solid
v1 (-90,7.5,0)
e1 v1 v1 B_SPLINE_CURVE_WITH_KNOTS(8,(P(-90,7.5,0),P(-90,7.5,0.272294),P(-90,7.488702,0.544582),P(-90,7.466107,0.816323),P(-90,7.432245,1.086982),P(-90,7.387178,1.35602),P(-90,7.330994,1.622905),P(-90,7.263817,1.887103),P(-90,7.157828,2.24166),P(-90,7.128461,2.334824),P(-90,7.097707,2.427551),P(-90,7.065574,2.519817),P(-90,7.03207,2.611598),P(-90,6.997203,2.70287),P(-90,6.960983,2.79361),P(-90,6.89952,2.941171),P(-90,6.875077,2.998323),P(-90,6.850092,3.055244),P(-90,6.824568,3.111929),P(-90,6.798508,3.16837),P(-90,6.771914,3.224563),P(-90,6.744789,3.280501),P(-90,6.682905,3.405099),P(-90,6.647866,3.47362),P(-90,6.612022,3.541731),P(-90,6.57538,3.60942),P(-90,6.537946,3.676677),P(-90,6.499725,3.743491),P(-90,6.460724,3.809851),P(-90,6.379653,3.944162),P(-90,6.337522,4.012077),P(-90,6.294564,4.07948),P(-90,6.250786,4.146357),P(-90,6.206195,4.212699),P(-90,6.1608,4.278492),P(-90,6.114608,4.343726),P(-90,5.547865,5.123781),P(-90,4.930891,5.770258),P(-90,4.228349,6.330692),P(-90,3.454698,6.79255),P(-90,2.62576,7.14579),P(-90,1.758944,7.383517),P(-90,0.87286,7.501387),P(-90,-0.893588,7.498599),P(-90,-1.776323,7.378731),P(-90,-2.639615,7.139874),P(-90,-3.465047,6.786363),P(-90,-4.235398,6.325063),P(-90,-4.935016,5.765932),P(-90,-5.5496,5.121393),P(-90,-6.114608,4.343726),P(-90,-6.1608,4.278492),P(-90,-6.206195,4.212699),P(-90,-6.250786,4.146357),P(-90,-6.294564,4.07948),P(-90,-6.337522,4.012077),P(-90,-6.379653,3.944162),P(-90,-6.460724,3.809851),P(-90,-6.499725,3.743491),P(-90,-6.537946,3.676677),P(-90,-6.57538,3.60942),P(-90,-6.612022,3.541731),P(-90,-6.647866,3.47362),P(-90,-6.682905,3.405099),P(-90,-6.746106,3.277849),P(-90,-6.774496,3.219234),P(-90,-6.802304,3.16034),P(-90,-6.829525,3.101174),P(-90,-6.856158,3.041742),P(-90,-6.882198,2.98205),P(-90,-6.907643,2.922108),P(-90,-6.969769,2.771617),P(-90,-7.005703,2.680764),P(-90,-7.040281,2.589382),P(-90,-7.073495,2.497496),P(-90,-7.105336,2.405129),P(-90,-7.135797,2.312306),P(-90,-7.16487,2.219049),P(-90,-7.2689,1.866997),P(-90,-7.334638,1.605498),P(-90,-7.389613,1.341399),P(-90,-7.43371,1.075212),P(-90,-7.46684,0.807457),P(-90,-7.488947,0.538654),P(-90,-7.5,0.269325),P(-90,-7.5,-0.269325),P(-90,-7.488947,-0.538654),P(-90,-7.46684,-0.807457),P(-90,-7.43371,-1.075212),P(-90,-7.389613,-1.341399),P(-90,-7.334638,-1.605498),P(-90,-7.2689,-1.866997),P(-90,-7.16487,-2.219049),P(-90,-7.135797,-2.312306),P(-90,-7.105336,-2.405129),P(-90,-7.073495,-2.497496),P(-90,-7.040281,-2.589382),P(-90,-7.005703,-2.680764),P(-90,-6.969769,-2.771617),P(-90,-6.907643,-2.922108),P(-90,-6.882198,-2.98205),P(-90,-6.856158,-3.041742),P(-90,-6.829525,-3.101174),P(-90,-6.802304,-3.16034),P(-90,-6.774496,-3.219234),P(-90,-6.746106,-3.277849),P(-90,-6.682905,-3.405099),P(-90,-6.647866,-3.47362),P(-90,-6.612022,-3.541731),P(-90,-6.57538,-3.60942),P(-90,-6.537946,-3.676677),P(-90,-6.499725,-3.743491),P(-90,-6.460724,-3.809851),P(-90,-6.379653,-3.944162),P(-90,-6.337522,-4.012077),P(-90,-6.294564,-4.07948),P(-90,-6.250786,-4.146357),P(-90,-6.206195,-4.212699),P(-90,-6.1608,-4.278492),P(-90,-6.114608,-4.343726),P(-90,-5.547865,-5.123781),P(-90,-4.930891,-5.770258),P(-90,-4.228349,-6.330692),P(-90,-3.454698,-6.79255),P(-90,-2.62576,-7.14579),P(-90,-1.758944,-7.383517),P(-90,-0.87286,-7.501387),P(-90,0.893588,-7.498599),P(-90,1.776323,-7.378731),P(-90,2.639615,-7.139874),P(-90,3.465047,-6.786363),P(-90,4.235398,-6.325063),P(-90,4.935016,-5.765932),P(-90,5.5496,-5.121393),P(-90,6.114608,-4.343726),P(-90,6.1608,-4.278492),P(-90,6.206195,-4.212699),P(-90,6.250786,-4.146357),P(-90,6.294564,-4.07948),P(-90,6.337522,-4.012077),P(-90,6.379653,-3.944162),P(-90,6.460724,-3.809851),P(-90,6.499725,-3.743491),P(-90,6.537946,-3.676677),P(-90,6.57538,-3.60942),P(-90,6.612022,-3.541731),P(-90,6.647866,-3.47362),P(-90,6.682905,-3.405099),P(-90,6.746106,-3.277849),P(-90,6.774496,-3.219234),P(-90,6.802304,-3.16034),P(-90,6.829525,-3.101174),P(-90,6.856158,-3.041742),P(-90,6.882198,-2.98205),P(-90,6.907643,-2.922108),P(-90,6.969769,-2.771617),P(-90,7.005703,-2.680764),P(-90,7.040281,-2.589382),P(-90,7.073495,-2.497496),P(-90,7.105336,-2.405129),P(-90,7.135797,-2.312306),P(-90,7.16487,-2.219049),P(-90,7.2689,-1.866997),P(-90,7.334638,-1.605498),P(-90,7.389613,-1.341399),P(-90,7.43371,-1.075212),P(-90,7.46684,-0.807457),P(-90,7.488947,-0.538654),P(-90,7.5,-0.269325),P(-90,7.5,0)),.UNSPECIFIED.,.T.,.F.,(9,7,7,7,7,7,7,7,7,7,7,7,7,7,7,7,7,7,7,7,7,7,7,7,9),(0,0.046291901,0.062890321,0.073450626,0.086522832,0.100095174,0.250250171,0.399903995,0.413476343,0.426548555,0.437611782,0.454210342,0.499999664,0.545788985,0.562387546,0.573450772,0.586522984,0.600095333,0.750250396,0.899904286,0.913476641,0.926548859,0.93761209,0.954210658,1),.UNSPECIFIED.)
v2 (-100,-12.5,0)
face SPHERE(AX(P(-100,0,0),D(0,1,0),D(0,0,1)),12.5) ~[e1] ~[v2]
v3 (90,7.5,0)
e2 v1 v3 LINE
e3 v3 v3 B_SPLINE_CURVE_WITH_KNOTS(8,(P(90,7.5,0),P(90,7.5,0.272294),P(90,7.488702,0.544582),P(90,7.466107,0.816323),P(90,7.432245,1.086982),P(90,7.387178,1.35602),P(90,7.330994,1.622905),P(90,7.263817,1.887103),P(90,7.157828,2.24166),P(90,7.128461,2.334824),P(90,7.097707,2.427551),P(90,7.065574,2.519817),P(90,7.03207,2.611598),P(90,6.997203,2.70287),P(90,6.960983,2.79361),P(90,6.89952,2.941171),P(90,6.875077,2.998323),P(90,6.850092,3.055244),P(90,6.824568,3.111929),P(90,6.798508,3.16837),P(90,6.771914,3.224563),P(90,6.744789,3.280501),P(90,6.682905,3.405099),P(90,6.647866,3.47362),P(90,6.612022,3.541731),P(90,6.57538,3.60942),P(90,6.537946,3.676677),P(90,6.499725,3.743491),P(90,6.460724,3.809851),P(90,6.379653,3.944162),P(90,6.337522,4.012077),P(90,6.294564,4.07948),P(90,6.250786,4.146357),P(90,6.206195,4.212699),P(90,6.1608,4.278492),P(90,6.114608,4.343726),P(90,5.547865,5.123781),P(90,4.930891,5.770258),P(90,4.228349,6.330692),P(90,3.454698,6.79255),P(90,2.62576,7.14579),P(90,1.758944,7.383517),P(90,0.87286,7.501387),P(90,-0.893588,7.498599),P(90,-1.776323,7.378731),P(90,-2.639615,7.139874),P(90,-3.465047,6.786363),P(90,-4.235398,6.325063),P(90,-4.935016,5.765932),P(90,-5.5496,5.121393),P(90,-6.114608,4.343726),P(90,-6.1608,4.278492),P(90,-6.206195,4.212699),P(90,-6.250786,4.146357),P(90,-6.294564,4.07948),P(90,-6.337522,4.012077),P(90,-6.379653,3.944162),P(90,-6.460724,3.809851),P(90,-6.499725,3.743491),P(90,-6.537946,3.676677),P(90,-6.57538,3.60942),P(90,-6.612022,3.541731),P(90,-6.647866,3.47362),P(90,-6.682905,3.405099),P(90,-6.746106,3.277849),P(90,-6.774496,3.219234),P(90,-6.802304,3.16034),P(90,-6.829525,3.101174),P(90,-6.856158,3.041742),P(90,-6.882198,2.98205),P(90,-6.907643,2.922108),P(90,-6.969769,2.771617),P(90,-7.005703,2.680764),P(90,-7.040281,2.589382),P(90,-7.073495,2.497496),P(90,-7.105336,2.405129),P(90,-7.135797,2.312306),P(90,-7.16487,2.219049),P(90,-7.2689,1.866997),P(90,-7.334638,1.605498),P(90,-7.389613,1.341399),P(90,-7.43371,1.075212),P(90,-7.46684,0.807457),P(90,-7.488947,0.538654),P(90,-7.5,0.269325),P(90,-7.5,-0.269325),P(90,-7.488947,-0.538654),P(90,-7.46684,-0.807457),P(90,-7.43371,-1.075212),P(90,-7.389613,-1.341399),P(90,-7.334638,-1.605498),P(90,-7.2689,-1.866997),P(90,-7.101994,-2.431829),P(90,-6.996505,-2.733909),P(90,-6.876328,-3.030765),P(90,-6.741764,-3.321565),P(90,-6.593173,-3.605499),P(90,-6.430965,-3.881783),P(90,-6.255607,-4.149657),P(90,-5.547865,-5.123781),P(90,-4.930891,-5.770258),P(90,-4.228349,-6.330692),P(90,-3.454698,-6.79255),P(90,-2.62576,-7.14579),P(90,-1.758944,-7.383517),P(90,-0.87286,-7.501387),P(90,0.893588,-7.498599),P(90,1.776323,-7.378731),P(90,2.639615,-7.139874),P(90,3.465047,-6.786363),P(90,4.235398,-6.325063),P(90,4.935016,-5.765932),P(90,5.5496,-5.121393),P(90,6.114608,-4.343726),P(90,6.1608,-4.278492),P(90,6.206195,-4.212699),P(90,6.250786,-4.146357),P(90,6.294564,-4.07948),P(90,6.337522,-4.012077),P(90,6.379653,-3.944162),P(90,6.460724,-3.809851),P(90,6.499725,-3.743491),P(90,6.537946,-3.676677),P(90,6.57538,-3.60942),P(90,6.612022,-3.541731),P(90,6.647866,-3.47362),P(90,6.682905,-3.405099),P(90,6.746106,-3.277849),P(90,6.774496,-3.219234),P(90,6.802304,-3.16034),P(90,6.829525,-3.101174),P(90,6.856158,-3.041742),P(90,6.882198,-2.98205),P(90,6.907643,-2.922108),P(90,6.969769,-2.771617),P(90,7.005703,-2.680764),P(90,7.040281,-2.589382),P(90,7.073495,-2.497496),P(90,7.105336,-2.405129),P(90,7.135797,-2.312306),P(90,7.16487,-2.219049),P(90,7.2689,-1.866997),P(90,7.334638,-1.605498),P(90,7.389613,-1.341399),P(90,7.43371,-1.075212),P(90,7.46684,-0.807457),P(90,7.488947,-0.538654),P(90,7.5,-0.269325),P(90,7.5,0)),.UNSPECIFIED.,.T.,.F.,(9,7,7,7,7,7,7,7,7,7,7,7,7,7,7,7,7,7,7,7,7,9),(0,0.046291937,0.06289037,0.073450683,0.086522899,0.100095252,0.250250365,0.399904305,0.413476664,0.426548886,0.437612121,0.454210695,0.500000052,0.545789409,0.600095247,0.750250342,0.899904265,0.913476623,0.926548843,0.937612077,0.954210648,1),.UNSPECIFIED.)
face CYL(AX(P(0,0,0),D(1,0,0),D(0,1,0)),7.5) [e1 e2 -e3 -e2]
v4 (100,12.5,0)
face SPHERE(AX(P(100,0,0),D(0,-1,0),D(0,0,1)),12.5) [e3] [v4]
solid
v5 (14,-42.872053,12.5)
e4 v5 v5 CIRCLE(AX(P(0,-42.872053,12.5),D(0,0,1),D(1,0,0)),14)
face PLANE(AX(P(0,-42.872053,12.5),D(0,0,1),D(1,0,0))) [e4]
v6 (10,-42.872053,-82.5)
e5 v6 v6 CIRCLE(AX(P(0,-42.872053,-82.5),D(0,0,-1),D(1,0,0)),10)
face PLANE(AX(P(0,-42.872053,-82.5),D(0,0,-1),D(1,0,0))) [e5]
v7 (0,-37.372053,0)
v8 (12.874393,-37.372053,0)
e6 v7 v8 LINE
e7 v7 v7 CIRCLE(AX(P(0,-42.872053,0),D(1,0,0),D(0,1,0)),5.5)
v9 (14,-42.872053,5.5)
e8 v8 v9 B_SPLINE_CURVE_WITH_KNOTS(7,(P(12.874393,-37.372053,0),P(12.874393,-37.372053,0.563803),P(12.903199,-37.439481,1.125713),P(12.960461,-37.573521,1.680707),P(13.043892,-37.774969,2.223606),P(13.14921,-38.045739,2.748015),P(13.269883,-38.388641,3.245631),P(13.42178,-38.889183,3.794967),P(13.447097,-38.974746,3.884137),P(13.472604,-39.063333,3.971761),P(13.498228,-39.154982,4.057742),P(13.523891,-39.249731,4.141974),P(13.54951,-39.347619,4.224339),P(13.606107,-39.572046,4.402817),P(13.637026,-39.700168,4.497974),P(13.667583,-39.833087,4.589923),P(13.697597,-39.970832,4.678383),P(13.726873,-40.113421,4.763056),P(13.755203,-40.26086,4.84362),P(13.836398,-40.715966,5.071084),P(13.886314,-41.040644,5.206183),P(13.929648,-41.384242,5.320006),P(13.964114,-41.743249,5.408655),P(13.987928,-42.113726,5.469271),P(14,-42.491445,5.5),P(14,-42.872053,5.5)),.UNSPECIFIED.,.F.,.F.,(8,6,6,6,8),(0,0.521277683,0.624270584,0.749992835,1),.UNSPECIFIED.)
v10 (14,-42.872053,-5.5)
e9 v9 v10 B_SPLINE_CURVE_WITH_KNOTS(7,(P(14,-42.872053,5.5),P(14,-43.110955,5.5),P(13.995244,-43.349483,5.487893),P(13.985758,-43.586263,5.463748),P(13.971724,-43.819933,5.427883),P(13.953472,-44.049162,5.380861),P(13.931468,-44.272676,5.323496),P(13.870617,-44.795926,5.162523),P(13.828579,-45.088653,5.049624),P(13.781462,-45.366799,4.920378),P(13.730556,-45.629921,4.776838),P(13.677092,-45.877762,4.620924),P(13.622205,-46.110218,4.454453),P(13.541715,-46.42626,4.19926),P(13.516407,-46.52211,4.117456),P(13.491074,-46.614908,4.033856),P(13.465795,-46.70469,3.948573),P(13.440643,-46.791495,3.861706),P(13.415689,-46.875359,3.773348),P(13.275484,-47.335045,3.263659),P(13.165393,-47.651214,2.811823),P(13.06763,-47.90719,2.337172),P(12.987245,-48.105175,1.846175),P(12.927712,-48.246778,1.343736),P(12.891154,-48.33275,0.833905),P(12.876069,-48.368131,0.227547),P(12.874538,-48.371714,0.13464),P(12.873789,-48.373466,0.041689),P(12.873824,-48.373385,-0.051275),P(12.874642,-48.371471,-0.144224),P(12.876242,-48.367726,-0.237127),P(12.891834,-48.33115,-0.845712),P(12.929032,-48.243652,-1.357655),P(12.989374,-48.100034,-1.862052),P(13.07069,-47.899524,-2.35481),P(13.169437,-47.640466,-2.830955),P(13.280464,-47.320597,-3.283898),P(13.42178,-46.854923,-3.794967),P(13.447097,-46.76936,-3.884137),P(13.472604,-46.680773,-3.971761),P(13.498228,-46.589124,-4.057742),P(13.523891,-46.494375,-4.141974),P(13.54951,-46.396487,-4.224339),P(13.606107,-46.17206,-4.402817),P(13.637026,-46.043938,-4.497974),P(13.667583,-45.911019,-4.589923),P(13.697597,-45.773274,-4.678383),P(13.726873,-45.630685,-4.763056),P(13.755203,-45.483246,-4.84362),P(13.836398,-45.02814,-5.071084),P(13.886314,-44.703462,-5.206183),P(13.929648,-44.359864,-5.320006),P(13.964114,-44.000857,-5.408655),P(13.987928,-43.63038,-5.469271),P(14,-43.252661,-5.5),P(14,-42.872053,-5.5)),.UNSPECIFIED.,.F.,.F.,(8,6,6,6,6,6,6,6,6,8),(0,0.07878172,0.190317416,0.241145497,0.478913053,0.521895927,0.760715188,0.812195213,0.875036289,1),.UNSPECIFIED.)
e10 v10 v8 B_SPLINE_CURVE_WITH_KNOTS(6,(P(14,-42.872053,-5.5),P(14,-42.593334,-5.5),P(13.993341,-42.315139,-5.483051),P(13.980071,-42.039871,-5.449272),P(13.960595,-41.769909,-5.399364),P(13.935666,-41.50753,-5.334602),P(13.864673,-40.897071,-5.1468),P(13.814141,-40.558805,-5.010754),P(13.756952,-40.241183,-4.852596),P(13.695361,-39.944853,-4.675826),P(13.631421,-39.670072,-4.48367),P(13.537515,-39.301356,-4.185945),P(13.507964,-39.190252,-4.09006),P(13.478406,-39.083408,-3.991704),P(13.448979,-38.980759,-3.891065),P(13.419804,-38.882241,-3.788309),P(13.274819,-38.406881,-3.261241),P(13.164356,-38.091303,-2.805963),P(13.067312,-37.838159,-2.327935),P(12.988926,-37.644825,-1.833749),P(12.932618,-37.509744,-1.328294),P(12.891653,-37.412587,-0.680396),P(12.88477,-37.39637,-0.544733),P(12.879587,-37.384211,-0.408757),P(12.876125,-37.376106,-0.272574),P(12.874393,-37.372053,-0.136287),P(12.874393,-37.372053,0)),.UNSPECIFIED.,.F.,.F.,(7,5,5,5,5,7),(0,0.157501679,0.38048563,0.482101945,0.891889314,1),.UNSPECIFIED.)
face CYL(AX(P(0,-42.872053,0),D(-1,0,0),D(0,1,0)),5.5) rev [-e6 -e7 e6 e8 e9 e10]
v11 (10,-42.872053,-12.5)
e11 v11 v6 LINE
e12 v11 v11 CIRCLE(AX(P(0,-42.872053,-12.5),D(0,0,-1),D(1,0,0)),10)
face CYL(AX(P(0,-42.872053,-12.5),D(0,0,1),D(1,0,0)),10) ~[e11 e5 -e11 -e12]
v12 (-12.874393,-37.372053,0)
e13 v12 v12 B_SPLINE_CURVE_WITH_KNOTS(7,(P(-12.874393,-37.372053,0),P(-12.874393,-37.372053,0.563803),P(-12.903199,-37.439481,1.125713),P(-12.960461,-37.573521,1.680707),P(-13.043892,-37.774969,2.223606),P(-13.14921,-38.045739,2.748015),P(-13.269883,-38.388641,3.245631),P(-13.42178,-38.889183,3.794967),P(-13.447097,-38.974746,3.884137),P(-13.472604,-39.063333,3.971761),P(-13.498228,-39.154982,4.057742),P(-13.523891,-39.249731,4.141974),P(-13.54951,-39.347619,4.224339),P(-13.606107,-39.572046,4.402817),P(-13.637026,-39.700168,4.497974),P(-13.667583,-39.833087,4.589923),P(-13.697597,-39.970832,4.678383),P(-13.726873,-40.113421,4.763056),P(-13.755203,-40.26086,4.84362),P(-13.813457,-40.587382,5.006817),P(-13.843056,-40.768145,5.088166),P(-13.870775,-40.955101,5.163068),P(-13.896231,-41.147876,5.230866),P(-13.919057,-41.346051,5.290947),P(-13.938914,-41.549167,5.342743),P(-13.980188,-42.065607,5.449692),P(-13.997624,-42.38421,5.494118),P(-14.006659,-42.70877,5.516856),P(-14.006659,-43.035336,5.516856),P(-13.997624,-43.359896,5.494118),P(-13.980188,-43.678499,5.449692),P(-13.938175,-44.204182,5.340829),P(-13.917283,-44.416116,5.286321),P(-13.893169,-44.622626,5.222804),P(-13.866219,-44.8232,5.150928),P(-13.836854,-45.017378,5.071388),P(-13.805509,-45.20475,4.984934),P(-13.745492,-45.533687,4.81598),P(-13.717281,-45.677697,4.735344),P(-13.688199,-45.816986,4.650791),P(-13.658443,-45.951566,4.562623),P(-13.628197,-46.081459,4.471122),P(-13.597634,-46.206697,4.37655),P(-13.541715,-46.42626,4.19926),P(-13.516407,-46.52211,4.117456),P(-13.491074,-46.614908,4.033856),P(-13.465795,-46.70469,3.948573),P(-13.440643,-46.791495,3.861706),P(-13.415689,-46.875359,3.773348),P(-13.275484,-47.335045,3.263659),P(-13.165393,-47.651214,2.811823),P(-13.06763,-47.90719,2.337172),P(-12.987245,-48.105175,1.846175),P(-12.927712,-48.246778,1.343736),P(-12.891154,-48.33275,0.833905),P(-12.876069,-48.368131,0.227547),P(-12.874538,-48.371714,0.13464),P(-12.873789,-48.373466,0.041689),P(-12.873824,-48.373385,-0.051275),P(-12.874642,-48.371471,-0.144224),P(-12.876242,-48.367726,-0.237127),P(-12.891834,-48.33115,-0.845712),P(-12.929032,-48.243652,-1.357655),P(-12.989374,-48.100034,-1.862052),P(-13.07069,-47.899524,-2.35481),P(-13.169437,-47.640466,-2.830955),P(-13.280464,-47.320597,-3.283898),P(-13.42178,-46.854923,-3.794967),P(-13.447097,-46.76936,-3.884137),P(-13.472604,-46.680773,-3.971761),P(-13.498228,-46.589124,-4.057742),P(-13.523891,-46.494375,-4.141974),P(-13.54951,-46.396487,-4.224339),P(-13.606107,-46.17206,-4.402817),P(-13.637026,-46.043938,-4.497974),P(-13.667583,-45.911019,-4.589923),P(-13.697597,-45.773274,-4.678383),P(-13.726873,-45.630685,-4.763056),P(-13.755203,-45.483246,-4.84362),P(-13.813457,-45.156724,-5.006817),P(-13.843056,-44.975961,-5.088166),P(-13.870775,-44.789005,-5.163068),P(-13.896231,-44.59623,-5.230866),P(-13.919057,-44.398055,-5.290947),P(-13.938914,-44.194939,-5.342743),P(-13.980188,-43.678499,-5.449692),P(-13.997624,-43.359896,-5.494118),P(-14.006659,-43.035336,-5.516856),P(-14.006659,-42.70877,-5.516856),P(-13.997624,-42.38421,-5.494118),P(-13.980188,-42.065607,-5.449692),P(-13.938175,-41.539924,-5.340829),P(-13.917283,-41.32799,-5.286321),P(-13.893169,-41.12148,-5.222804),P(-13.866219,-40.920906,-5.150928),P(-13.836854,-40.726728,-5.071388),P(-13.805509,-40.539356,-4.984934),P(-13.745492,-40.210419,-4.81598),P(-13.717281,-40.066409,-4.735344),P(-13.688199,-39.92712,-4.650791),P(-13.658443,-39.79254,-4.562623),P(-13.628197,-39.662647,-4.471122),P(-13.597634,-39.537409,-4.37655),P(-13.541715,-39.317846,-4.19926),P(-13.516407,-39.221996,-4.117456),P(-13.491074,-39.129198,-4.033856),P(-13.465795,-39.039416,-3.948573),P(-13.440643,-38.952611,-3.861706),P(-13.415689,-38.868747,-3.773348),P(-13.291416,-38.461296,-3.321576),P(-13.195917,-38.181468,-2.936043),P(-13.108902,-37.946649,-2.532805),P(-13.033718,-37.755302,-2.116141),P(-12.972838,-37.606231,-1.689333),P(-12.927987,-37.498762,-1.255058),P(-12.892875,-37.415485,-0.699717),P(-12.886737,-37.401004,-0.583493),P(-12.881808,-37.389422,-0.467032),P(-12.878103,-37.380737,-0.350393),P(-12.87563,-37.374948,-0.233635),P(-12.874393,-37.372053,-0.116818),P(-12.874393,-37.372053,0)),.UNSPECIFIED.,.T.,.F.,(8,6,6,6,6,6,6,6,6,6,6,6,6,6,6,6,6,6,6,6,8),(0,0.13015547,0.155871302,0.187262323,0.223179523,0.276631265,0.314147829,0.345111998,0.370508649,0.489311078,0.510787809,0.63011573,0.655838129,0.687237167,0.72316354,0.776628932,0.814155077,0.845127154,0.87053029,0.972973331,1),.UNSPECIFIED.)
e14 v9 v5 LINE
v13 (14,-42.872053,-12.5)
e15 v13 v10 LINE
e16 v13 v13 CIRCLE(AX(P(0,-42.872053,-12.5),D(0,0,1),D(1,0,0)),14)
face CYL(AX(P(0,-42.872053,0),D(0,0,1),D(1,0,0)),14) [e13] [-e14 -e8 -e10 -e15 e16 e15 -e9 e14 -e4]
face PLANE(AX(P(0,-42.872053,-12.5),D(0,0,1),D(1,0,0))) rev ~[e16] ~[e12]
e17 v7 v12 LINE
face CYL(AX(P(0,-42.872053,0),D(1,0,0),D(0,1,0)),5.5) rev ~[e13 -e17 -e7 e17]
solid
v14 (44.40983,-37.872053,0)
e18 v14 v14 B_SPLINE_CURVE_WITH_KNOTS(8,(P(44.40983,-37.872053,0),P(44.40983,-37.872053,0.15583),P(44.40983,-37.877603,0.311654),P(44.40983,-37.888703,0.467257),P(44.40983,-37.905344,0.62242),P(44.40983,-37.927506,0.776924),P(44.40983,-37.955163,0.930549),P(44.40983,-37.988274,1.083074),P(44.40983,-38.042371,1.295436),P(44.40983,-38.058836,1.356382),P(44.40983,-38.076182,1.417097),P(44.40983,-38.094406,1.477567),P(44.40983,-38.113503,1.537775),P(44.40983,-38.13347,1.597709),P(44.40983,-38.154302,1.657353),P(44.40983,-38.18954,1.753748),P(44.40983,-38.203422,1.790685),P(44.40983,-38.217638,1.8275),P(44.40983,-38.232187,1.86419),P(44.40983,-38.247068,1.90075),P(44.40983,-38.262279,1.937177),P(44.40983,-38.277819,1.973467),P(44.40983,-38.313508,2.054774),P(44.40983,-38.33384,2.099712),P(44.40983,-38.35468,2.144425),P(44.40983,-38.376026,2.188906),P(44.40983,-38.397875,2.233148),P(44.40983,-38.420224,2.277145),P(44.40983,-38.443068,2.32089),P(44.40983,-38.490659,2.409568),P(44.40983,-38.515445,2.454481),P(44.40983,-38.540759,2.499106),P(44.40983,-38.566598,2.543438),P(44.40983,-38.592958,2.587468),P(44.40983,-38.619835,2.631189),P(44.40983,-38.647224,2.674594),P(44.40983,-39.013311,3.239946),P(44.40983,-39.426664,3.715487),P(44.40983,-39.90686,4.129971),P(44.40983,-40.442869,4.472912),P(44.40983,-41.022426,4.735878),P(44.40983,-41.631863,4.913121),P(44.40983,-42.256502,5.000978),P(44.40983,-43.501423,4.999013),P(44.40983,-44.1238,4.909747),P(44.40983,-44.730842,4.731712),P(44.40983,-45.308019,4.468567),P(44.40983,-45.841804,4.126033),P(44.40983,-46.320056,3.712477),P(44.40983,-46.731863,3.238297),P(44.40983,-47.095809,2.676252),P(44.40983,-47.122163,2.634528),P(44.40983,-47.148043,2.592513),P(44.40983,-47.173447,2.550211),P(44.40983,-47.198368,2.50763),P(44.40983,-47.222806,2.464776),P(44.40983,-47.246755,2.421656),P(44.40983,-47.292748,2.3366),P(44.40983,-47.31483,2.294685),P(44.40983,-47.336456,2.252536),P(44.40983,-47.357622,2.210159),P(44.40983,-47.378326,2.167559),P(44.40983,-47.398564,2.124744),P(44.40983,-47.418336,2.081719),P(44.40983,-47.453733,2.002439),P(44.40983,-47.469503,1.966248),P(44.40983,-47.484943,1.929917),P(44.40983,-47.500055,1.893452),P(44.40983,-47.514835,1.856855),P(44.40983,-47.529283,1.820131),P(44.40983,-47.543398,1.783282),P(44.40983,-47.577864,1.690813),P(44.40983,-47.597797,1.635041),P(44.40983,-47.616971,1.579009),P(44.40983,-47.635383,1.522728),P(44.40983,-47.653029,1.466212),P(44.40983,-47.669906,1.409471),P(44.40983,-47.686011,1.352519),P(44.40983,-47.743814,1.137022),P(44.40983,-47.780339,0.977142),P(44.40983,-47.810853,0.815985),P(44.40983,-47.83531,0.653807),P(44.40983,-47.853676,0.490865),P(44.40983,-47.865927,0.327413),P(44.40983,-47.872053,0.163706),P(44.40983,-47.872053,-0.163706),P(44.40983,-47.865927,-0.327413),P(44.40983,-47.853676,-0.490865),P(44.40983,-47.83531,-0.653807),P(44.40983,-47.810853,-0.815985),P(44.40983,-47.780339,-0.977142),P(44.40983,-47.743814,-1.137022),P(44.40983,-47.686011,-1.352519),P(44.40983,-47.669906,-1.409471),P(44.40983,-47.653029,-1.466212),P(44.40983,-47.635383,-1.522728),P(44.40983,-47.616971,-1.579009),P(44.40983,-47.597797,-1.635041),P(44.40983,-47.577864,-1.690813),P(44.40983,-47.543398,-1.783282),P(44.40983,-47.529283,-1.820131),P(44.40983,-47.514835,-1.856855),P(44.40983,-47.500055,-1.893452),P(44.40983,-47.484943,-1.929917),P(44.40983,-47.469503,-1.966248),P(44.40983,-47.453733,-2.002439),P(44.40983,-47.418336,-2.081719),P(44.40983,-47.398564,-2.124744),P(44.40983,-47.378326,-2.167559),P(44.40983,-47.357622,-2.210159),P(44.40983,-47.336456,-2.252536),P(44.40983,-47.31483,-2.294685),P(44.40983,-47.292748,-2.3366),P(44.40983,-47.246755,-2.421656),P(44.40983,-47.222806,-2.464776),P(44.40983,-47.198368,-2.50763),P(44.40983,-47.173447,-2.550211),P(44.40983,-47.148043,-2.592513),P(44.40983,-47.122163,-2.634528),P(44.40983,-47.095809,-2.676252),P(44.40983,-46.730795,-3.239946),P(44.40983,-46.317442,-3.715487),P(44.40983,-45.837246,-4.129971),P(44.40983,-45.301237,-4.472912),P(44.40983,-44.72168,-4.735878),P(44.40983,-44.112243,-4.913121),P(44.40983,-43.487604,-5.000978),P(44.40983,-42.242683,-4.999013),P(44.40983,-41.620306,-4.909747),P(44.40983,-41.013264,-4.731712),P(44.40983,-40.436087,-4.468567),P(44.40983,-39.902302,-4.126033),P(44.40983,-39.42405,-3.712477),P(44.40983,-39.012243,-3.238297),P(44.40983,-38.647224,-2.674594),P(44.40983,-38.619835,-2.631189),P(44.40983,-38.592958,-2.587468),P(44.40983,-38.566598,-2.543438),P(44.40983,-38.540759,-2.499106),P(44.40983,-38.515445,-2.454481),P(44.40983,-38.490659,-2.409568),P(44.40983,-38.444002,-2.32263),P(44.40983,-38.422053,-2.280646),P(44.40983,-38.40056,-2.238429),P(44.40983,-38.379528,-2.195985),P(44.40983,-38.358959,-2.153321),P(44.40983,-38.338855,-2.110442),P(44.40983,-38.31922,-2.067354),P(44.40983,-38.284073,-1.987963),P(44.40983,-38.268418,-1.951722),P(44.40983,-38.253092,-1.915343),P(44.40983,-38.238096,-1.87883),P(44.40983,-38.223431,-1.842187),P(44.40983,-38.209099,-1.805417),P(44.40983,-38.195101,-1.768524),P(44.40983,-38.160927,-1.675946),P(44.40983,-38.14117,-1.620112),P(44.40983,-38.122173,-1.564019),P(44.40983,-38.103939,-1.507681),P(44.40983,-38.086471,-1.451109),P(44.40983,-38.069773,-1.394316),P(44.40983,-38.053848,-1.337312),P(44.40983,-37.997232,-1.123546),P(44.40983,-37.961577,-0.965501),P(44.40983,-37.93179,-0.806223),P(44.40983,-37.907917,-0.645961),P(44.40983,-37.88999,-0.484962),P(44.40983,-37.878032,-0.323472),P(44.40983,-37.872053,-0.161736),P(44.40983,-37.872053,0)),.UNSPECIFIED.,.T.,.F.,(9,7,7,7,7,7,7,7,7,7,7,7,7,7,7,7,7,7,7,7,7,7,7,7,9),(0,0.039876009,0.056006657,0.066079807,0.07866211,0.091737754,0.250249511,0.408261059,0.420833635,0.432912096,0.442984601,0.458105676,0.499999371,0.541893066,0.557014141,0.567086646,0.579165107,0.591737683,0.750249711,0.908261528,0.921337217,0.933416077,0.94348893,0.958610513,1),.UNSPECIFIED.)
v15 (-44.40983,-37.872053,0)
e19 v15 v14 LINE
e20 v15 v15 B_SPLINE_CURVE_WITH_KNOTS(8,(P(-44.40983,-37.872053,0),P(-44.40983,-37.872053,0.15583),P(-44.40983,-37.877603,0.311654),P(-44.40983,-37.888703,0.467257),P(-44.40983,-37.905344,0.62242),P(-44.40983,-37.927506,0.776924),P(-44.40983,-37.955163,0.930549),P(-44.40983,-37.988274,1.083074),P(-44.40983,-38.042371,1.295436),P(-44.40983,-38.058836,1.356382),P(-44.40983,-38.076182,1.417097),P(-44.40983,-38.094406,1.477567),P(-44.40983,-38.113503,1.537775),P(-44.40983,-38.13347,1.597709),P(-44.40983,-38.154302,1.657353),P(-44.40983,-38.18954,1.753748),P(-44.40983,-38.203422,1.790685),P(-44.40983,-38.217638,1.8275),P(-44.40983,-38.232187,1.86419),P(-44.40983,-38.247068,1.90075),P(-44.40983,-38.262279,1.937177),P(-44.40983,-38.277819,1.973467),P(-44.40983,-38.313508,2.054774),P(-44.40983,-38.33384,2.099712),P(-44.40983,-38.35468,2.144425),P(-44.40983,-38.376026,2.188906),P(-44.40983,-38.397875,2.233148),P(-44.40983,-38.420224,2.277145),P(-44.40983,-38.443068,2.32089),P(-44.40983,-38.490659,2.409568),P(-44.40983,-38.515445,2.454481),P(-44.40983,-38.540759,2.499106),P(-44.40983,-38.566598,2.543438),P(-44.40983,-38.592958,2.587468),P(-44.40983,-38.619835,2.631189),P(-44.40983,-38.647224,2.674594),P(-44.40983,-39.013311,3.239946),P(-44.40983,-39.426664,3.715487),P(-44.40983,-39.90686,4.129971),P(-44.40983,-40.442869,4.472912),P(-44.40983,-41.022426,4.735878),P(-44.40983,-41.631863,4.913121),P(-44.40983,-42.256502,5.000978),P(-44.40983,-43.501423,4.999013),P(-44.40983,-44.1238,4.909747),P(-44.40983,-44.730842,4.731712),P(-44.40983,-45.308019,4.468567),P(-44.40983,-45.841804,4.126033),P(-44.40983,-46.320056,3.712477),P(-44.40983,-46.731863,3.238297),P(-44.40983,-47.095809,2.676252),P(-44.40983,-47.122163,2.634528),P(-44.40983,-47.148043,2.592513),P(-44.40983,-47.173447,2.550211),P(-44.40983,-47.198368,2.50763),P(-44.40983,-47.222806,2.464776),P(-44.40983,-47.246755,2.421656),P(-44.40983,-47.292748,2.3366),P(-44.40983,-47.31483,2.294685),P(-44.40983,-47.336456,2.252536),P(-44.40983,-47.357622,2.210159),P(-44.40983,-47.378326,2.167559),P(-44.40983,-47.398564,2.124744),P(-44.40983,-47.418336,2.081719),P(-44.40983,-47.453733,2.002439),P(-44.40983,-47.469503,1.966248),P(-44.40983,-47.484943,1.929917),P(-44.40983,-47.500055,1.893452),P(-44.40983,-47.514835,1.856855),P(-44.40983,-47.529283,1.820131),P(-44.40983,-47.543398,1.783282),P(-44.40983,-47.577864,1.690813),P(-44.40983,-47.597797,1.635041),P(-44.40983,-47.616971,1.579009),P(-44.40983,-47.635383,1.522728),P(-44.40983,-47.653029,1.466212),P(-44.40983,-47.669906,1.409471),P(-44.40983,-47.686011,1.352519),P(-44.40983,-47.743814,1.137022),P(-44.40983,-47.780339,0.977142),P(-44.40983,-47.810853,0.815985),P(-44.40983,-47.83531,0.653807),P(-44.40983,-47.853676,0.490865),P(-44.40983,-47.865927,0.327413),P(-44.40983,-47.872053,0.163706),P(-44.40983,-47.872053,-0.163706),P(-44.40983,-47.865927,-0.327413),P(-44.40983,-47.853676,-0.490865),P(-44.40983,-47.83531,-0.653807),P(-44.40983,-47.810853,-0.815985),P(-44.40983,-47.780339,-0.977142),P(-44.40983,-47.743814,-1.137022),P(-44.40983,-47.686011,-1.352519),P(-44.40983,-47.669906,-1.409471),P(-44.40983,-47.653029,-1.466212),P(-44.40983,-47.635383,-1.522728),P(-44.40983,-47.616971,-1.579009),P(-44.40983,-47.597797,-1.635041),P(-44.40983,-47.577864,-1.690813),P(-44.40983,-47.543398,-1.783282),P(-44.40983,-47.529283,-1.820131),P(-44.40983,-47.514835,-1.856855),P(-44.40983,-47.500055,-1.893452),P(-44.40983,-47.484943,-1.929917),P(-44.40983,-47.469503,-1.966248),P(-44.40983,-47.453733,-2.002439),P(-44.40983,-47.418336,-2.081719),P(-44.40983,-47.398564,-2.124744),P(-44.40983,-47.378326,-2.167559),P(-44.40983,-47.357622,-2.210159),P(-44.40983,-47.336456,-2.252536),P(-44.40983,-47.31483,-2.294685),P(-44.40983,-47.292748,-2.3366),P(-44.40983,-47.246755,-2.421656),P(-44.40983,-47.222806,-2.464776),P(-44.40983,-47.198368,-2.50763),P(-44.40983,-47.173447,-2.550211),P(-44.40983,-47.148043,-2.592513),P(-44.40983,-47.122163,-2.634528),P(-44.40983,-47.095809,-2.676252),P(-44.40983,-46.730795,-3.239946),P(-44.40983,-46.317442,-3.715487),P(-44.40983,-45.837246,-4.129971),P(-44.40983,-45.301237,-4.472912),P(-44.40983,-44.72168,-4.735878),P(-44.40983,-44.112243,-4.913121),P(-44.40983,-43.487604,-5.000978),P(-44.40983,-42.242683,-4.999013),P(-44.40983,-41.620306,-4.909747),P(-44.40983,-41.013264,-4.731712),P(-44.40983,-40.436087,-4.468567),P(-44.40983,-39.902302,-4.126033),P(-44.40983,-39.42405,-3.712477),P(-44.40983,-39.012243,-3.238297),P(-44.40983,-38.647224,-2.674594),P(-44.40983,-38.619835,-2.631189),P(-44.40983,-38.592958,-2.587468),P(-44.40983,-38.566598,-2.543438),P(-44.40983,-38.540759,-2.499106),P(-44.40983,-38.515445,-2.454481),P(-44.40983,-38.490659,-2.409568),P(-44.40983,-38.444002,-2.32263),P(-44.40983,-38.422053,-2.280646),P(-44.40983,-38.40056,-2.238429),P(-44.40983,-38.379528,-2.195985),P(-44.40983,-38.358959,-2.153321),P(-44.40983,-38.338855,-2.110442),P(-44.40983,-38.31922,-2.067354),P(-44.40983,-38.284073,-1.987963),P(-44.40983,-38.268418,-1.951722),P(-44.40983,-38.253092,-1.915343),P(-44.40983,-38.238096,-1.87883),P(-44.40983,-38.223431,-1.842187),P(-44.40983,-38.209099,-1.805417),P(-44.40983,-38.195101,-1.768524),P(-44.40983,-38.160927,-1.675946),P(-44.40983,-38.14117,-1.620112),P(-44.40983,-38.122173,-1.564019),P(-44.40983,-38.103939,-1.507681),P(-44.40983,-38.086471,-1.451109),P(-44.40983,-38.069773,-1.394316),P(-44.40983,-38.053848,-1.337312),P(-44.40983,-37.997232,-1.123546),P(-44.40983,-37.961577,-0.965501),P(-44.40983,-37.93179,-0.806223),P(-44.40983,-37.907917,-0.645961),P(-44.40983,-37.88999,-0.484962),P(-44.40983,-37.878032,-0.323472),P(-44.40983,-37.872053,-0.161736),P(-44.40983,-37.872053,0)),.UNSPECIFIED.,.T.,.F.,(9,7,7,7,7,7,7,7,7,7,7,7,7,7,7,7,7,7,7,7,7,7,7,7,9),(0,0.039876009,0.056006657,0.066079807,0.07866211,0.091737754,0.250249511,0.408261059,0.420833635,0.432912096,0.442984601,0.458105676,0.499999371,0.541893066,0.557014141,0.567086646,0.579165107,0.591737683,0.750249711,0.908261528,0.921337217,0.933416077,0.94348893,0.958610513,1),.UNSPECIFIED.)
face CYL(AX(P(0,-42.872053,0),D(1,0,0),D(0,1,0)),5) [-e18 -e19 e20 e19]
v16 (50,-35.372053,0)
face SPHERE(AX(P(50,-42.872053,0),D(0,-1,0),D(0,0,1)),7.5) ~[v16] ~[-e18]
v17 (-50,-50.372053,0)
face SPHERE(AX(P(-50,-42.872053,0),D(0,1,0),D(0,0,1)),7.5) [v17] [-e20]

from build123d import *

# Parameters (mm, degrees)
F0_R          = 7.5
F1_DEPTH      = 100
F6_R          = 14
F7_DEPTH      = 12.5
F8_R          = 5.5
F9_DEPTH      = 112.501
F9_DEPTH_BACK = 112.501
F10_R         = 5
F11_DEPTH     = 50
F16_R         = 10
F17_DEPTH     = 70


with BuildPart() as f1:
    # F0 (on Right) → F1 (new body, symmetric)
    with BuildSketch(Plane.YZ):
        Circle(F0_R)
    extrude(amount=F1_DEPTH, both=True)

    # F2 (on face) → F3 (revolve)
    with BuildSketch(Plane(origin=(-100, 0, 0), x_dir=(0, -1, 0), z_dir=(-1, 0, 0))):
        with BuildLine():
            Line((-12.5, 0), (12.5, 0))
            ThreePointArc((12.5, 0), (0, 12.5), (-12.5, 0))
        make_face()
    revolve(axis=Axis((-100, 0, 0), (0, -1, 0)))

    # F4 (on face) → F5 (revolve)
    with BuildSketch(Plane.YZ.offset(100)):
        with BuildLine():
            ThreePointArc((12.5, 0), (0, 12.5), (-12.5, 0))
            Line((-12.5, 0), (12.5, 0))
        make_face()
    revolve(axis=Axis((100, 0, 0), (0, -1, 0)))


with BuildPart() as f7:
    # F6 (on Top) → F7 (new body, symmetric)
    with BuildSketch(Plane.XY):
        with Locations((0, -42.872053)):
            Circle(F6_R)
    extrude(amount=F7_DEPTH, both=True)

    # F8 (on Right) → F9 (cut, two sides)
    with BuildSketch(Plane.YZ) as f9_sk:
        with Locations((-42.872053, 0)):
            Circle(F8_R)
    extrude(amount=F9_DEPTH, mode=Mode.SUBTRACT)
    extrude(f9_sk.sketch, amount=-F9_DEPTH_BACK, mode=Mode.SUBTRACT)

    # F16 (on face) → F17 (join)
    with BuildSketch(Plane(origin=(0, 0, -12.5), x_dir=(1, 0, 0), z_dir=(0, 0, -1))):
        with Locations((0, 42.872053)):
            Circle(F16_R)
    extrude(amount=F17_DEPTH)


with BuildPart() as f11:
    # F10 (on Right) → F11 (new body, symmetric)
    with BuildSketch(Plane.YZ):
        with Locations((-42.872053, 0)):
            Circle(F10_R)
    extrude(amount=F11_DEPTH, both=True)

    # F12 (on face) → F13 (revolve)
    with BuildSketch(Plane.YZ.offset(50)):
        with BuildLine():
            Line((-50.372053, 0), (-35.372053, 0))
            ThreePointArc((-35.372053, 0), (-42.872053, 7.5), (-50.372053, 0))
        make_face()
    revolve(axis=Axis((50, -42.872053, 0), (0, 1, 0)))

    # F14 (on face) → F15 (revolve)
    with BuildSketch(Plane(origin=(-50, 0, 0), x_dir=(0, -1, 0), z_dir=(-1, 0, 0))):
        with BuildLine():
            ThreePointArc((50.372053, 0), (42.872053, 7.5), (35.372053, 0))
            Line((35.372053, 0), (50.372053, 0))
        make_face()
    revolve(axis=Axis((-50, -42.872053, 0), (0, 1, 0)))


solid = Compound([f1.part, f7.part, f11.part])
